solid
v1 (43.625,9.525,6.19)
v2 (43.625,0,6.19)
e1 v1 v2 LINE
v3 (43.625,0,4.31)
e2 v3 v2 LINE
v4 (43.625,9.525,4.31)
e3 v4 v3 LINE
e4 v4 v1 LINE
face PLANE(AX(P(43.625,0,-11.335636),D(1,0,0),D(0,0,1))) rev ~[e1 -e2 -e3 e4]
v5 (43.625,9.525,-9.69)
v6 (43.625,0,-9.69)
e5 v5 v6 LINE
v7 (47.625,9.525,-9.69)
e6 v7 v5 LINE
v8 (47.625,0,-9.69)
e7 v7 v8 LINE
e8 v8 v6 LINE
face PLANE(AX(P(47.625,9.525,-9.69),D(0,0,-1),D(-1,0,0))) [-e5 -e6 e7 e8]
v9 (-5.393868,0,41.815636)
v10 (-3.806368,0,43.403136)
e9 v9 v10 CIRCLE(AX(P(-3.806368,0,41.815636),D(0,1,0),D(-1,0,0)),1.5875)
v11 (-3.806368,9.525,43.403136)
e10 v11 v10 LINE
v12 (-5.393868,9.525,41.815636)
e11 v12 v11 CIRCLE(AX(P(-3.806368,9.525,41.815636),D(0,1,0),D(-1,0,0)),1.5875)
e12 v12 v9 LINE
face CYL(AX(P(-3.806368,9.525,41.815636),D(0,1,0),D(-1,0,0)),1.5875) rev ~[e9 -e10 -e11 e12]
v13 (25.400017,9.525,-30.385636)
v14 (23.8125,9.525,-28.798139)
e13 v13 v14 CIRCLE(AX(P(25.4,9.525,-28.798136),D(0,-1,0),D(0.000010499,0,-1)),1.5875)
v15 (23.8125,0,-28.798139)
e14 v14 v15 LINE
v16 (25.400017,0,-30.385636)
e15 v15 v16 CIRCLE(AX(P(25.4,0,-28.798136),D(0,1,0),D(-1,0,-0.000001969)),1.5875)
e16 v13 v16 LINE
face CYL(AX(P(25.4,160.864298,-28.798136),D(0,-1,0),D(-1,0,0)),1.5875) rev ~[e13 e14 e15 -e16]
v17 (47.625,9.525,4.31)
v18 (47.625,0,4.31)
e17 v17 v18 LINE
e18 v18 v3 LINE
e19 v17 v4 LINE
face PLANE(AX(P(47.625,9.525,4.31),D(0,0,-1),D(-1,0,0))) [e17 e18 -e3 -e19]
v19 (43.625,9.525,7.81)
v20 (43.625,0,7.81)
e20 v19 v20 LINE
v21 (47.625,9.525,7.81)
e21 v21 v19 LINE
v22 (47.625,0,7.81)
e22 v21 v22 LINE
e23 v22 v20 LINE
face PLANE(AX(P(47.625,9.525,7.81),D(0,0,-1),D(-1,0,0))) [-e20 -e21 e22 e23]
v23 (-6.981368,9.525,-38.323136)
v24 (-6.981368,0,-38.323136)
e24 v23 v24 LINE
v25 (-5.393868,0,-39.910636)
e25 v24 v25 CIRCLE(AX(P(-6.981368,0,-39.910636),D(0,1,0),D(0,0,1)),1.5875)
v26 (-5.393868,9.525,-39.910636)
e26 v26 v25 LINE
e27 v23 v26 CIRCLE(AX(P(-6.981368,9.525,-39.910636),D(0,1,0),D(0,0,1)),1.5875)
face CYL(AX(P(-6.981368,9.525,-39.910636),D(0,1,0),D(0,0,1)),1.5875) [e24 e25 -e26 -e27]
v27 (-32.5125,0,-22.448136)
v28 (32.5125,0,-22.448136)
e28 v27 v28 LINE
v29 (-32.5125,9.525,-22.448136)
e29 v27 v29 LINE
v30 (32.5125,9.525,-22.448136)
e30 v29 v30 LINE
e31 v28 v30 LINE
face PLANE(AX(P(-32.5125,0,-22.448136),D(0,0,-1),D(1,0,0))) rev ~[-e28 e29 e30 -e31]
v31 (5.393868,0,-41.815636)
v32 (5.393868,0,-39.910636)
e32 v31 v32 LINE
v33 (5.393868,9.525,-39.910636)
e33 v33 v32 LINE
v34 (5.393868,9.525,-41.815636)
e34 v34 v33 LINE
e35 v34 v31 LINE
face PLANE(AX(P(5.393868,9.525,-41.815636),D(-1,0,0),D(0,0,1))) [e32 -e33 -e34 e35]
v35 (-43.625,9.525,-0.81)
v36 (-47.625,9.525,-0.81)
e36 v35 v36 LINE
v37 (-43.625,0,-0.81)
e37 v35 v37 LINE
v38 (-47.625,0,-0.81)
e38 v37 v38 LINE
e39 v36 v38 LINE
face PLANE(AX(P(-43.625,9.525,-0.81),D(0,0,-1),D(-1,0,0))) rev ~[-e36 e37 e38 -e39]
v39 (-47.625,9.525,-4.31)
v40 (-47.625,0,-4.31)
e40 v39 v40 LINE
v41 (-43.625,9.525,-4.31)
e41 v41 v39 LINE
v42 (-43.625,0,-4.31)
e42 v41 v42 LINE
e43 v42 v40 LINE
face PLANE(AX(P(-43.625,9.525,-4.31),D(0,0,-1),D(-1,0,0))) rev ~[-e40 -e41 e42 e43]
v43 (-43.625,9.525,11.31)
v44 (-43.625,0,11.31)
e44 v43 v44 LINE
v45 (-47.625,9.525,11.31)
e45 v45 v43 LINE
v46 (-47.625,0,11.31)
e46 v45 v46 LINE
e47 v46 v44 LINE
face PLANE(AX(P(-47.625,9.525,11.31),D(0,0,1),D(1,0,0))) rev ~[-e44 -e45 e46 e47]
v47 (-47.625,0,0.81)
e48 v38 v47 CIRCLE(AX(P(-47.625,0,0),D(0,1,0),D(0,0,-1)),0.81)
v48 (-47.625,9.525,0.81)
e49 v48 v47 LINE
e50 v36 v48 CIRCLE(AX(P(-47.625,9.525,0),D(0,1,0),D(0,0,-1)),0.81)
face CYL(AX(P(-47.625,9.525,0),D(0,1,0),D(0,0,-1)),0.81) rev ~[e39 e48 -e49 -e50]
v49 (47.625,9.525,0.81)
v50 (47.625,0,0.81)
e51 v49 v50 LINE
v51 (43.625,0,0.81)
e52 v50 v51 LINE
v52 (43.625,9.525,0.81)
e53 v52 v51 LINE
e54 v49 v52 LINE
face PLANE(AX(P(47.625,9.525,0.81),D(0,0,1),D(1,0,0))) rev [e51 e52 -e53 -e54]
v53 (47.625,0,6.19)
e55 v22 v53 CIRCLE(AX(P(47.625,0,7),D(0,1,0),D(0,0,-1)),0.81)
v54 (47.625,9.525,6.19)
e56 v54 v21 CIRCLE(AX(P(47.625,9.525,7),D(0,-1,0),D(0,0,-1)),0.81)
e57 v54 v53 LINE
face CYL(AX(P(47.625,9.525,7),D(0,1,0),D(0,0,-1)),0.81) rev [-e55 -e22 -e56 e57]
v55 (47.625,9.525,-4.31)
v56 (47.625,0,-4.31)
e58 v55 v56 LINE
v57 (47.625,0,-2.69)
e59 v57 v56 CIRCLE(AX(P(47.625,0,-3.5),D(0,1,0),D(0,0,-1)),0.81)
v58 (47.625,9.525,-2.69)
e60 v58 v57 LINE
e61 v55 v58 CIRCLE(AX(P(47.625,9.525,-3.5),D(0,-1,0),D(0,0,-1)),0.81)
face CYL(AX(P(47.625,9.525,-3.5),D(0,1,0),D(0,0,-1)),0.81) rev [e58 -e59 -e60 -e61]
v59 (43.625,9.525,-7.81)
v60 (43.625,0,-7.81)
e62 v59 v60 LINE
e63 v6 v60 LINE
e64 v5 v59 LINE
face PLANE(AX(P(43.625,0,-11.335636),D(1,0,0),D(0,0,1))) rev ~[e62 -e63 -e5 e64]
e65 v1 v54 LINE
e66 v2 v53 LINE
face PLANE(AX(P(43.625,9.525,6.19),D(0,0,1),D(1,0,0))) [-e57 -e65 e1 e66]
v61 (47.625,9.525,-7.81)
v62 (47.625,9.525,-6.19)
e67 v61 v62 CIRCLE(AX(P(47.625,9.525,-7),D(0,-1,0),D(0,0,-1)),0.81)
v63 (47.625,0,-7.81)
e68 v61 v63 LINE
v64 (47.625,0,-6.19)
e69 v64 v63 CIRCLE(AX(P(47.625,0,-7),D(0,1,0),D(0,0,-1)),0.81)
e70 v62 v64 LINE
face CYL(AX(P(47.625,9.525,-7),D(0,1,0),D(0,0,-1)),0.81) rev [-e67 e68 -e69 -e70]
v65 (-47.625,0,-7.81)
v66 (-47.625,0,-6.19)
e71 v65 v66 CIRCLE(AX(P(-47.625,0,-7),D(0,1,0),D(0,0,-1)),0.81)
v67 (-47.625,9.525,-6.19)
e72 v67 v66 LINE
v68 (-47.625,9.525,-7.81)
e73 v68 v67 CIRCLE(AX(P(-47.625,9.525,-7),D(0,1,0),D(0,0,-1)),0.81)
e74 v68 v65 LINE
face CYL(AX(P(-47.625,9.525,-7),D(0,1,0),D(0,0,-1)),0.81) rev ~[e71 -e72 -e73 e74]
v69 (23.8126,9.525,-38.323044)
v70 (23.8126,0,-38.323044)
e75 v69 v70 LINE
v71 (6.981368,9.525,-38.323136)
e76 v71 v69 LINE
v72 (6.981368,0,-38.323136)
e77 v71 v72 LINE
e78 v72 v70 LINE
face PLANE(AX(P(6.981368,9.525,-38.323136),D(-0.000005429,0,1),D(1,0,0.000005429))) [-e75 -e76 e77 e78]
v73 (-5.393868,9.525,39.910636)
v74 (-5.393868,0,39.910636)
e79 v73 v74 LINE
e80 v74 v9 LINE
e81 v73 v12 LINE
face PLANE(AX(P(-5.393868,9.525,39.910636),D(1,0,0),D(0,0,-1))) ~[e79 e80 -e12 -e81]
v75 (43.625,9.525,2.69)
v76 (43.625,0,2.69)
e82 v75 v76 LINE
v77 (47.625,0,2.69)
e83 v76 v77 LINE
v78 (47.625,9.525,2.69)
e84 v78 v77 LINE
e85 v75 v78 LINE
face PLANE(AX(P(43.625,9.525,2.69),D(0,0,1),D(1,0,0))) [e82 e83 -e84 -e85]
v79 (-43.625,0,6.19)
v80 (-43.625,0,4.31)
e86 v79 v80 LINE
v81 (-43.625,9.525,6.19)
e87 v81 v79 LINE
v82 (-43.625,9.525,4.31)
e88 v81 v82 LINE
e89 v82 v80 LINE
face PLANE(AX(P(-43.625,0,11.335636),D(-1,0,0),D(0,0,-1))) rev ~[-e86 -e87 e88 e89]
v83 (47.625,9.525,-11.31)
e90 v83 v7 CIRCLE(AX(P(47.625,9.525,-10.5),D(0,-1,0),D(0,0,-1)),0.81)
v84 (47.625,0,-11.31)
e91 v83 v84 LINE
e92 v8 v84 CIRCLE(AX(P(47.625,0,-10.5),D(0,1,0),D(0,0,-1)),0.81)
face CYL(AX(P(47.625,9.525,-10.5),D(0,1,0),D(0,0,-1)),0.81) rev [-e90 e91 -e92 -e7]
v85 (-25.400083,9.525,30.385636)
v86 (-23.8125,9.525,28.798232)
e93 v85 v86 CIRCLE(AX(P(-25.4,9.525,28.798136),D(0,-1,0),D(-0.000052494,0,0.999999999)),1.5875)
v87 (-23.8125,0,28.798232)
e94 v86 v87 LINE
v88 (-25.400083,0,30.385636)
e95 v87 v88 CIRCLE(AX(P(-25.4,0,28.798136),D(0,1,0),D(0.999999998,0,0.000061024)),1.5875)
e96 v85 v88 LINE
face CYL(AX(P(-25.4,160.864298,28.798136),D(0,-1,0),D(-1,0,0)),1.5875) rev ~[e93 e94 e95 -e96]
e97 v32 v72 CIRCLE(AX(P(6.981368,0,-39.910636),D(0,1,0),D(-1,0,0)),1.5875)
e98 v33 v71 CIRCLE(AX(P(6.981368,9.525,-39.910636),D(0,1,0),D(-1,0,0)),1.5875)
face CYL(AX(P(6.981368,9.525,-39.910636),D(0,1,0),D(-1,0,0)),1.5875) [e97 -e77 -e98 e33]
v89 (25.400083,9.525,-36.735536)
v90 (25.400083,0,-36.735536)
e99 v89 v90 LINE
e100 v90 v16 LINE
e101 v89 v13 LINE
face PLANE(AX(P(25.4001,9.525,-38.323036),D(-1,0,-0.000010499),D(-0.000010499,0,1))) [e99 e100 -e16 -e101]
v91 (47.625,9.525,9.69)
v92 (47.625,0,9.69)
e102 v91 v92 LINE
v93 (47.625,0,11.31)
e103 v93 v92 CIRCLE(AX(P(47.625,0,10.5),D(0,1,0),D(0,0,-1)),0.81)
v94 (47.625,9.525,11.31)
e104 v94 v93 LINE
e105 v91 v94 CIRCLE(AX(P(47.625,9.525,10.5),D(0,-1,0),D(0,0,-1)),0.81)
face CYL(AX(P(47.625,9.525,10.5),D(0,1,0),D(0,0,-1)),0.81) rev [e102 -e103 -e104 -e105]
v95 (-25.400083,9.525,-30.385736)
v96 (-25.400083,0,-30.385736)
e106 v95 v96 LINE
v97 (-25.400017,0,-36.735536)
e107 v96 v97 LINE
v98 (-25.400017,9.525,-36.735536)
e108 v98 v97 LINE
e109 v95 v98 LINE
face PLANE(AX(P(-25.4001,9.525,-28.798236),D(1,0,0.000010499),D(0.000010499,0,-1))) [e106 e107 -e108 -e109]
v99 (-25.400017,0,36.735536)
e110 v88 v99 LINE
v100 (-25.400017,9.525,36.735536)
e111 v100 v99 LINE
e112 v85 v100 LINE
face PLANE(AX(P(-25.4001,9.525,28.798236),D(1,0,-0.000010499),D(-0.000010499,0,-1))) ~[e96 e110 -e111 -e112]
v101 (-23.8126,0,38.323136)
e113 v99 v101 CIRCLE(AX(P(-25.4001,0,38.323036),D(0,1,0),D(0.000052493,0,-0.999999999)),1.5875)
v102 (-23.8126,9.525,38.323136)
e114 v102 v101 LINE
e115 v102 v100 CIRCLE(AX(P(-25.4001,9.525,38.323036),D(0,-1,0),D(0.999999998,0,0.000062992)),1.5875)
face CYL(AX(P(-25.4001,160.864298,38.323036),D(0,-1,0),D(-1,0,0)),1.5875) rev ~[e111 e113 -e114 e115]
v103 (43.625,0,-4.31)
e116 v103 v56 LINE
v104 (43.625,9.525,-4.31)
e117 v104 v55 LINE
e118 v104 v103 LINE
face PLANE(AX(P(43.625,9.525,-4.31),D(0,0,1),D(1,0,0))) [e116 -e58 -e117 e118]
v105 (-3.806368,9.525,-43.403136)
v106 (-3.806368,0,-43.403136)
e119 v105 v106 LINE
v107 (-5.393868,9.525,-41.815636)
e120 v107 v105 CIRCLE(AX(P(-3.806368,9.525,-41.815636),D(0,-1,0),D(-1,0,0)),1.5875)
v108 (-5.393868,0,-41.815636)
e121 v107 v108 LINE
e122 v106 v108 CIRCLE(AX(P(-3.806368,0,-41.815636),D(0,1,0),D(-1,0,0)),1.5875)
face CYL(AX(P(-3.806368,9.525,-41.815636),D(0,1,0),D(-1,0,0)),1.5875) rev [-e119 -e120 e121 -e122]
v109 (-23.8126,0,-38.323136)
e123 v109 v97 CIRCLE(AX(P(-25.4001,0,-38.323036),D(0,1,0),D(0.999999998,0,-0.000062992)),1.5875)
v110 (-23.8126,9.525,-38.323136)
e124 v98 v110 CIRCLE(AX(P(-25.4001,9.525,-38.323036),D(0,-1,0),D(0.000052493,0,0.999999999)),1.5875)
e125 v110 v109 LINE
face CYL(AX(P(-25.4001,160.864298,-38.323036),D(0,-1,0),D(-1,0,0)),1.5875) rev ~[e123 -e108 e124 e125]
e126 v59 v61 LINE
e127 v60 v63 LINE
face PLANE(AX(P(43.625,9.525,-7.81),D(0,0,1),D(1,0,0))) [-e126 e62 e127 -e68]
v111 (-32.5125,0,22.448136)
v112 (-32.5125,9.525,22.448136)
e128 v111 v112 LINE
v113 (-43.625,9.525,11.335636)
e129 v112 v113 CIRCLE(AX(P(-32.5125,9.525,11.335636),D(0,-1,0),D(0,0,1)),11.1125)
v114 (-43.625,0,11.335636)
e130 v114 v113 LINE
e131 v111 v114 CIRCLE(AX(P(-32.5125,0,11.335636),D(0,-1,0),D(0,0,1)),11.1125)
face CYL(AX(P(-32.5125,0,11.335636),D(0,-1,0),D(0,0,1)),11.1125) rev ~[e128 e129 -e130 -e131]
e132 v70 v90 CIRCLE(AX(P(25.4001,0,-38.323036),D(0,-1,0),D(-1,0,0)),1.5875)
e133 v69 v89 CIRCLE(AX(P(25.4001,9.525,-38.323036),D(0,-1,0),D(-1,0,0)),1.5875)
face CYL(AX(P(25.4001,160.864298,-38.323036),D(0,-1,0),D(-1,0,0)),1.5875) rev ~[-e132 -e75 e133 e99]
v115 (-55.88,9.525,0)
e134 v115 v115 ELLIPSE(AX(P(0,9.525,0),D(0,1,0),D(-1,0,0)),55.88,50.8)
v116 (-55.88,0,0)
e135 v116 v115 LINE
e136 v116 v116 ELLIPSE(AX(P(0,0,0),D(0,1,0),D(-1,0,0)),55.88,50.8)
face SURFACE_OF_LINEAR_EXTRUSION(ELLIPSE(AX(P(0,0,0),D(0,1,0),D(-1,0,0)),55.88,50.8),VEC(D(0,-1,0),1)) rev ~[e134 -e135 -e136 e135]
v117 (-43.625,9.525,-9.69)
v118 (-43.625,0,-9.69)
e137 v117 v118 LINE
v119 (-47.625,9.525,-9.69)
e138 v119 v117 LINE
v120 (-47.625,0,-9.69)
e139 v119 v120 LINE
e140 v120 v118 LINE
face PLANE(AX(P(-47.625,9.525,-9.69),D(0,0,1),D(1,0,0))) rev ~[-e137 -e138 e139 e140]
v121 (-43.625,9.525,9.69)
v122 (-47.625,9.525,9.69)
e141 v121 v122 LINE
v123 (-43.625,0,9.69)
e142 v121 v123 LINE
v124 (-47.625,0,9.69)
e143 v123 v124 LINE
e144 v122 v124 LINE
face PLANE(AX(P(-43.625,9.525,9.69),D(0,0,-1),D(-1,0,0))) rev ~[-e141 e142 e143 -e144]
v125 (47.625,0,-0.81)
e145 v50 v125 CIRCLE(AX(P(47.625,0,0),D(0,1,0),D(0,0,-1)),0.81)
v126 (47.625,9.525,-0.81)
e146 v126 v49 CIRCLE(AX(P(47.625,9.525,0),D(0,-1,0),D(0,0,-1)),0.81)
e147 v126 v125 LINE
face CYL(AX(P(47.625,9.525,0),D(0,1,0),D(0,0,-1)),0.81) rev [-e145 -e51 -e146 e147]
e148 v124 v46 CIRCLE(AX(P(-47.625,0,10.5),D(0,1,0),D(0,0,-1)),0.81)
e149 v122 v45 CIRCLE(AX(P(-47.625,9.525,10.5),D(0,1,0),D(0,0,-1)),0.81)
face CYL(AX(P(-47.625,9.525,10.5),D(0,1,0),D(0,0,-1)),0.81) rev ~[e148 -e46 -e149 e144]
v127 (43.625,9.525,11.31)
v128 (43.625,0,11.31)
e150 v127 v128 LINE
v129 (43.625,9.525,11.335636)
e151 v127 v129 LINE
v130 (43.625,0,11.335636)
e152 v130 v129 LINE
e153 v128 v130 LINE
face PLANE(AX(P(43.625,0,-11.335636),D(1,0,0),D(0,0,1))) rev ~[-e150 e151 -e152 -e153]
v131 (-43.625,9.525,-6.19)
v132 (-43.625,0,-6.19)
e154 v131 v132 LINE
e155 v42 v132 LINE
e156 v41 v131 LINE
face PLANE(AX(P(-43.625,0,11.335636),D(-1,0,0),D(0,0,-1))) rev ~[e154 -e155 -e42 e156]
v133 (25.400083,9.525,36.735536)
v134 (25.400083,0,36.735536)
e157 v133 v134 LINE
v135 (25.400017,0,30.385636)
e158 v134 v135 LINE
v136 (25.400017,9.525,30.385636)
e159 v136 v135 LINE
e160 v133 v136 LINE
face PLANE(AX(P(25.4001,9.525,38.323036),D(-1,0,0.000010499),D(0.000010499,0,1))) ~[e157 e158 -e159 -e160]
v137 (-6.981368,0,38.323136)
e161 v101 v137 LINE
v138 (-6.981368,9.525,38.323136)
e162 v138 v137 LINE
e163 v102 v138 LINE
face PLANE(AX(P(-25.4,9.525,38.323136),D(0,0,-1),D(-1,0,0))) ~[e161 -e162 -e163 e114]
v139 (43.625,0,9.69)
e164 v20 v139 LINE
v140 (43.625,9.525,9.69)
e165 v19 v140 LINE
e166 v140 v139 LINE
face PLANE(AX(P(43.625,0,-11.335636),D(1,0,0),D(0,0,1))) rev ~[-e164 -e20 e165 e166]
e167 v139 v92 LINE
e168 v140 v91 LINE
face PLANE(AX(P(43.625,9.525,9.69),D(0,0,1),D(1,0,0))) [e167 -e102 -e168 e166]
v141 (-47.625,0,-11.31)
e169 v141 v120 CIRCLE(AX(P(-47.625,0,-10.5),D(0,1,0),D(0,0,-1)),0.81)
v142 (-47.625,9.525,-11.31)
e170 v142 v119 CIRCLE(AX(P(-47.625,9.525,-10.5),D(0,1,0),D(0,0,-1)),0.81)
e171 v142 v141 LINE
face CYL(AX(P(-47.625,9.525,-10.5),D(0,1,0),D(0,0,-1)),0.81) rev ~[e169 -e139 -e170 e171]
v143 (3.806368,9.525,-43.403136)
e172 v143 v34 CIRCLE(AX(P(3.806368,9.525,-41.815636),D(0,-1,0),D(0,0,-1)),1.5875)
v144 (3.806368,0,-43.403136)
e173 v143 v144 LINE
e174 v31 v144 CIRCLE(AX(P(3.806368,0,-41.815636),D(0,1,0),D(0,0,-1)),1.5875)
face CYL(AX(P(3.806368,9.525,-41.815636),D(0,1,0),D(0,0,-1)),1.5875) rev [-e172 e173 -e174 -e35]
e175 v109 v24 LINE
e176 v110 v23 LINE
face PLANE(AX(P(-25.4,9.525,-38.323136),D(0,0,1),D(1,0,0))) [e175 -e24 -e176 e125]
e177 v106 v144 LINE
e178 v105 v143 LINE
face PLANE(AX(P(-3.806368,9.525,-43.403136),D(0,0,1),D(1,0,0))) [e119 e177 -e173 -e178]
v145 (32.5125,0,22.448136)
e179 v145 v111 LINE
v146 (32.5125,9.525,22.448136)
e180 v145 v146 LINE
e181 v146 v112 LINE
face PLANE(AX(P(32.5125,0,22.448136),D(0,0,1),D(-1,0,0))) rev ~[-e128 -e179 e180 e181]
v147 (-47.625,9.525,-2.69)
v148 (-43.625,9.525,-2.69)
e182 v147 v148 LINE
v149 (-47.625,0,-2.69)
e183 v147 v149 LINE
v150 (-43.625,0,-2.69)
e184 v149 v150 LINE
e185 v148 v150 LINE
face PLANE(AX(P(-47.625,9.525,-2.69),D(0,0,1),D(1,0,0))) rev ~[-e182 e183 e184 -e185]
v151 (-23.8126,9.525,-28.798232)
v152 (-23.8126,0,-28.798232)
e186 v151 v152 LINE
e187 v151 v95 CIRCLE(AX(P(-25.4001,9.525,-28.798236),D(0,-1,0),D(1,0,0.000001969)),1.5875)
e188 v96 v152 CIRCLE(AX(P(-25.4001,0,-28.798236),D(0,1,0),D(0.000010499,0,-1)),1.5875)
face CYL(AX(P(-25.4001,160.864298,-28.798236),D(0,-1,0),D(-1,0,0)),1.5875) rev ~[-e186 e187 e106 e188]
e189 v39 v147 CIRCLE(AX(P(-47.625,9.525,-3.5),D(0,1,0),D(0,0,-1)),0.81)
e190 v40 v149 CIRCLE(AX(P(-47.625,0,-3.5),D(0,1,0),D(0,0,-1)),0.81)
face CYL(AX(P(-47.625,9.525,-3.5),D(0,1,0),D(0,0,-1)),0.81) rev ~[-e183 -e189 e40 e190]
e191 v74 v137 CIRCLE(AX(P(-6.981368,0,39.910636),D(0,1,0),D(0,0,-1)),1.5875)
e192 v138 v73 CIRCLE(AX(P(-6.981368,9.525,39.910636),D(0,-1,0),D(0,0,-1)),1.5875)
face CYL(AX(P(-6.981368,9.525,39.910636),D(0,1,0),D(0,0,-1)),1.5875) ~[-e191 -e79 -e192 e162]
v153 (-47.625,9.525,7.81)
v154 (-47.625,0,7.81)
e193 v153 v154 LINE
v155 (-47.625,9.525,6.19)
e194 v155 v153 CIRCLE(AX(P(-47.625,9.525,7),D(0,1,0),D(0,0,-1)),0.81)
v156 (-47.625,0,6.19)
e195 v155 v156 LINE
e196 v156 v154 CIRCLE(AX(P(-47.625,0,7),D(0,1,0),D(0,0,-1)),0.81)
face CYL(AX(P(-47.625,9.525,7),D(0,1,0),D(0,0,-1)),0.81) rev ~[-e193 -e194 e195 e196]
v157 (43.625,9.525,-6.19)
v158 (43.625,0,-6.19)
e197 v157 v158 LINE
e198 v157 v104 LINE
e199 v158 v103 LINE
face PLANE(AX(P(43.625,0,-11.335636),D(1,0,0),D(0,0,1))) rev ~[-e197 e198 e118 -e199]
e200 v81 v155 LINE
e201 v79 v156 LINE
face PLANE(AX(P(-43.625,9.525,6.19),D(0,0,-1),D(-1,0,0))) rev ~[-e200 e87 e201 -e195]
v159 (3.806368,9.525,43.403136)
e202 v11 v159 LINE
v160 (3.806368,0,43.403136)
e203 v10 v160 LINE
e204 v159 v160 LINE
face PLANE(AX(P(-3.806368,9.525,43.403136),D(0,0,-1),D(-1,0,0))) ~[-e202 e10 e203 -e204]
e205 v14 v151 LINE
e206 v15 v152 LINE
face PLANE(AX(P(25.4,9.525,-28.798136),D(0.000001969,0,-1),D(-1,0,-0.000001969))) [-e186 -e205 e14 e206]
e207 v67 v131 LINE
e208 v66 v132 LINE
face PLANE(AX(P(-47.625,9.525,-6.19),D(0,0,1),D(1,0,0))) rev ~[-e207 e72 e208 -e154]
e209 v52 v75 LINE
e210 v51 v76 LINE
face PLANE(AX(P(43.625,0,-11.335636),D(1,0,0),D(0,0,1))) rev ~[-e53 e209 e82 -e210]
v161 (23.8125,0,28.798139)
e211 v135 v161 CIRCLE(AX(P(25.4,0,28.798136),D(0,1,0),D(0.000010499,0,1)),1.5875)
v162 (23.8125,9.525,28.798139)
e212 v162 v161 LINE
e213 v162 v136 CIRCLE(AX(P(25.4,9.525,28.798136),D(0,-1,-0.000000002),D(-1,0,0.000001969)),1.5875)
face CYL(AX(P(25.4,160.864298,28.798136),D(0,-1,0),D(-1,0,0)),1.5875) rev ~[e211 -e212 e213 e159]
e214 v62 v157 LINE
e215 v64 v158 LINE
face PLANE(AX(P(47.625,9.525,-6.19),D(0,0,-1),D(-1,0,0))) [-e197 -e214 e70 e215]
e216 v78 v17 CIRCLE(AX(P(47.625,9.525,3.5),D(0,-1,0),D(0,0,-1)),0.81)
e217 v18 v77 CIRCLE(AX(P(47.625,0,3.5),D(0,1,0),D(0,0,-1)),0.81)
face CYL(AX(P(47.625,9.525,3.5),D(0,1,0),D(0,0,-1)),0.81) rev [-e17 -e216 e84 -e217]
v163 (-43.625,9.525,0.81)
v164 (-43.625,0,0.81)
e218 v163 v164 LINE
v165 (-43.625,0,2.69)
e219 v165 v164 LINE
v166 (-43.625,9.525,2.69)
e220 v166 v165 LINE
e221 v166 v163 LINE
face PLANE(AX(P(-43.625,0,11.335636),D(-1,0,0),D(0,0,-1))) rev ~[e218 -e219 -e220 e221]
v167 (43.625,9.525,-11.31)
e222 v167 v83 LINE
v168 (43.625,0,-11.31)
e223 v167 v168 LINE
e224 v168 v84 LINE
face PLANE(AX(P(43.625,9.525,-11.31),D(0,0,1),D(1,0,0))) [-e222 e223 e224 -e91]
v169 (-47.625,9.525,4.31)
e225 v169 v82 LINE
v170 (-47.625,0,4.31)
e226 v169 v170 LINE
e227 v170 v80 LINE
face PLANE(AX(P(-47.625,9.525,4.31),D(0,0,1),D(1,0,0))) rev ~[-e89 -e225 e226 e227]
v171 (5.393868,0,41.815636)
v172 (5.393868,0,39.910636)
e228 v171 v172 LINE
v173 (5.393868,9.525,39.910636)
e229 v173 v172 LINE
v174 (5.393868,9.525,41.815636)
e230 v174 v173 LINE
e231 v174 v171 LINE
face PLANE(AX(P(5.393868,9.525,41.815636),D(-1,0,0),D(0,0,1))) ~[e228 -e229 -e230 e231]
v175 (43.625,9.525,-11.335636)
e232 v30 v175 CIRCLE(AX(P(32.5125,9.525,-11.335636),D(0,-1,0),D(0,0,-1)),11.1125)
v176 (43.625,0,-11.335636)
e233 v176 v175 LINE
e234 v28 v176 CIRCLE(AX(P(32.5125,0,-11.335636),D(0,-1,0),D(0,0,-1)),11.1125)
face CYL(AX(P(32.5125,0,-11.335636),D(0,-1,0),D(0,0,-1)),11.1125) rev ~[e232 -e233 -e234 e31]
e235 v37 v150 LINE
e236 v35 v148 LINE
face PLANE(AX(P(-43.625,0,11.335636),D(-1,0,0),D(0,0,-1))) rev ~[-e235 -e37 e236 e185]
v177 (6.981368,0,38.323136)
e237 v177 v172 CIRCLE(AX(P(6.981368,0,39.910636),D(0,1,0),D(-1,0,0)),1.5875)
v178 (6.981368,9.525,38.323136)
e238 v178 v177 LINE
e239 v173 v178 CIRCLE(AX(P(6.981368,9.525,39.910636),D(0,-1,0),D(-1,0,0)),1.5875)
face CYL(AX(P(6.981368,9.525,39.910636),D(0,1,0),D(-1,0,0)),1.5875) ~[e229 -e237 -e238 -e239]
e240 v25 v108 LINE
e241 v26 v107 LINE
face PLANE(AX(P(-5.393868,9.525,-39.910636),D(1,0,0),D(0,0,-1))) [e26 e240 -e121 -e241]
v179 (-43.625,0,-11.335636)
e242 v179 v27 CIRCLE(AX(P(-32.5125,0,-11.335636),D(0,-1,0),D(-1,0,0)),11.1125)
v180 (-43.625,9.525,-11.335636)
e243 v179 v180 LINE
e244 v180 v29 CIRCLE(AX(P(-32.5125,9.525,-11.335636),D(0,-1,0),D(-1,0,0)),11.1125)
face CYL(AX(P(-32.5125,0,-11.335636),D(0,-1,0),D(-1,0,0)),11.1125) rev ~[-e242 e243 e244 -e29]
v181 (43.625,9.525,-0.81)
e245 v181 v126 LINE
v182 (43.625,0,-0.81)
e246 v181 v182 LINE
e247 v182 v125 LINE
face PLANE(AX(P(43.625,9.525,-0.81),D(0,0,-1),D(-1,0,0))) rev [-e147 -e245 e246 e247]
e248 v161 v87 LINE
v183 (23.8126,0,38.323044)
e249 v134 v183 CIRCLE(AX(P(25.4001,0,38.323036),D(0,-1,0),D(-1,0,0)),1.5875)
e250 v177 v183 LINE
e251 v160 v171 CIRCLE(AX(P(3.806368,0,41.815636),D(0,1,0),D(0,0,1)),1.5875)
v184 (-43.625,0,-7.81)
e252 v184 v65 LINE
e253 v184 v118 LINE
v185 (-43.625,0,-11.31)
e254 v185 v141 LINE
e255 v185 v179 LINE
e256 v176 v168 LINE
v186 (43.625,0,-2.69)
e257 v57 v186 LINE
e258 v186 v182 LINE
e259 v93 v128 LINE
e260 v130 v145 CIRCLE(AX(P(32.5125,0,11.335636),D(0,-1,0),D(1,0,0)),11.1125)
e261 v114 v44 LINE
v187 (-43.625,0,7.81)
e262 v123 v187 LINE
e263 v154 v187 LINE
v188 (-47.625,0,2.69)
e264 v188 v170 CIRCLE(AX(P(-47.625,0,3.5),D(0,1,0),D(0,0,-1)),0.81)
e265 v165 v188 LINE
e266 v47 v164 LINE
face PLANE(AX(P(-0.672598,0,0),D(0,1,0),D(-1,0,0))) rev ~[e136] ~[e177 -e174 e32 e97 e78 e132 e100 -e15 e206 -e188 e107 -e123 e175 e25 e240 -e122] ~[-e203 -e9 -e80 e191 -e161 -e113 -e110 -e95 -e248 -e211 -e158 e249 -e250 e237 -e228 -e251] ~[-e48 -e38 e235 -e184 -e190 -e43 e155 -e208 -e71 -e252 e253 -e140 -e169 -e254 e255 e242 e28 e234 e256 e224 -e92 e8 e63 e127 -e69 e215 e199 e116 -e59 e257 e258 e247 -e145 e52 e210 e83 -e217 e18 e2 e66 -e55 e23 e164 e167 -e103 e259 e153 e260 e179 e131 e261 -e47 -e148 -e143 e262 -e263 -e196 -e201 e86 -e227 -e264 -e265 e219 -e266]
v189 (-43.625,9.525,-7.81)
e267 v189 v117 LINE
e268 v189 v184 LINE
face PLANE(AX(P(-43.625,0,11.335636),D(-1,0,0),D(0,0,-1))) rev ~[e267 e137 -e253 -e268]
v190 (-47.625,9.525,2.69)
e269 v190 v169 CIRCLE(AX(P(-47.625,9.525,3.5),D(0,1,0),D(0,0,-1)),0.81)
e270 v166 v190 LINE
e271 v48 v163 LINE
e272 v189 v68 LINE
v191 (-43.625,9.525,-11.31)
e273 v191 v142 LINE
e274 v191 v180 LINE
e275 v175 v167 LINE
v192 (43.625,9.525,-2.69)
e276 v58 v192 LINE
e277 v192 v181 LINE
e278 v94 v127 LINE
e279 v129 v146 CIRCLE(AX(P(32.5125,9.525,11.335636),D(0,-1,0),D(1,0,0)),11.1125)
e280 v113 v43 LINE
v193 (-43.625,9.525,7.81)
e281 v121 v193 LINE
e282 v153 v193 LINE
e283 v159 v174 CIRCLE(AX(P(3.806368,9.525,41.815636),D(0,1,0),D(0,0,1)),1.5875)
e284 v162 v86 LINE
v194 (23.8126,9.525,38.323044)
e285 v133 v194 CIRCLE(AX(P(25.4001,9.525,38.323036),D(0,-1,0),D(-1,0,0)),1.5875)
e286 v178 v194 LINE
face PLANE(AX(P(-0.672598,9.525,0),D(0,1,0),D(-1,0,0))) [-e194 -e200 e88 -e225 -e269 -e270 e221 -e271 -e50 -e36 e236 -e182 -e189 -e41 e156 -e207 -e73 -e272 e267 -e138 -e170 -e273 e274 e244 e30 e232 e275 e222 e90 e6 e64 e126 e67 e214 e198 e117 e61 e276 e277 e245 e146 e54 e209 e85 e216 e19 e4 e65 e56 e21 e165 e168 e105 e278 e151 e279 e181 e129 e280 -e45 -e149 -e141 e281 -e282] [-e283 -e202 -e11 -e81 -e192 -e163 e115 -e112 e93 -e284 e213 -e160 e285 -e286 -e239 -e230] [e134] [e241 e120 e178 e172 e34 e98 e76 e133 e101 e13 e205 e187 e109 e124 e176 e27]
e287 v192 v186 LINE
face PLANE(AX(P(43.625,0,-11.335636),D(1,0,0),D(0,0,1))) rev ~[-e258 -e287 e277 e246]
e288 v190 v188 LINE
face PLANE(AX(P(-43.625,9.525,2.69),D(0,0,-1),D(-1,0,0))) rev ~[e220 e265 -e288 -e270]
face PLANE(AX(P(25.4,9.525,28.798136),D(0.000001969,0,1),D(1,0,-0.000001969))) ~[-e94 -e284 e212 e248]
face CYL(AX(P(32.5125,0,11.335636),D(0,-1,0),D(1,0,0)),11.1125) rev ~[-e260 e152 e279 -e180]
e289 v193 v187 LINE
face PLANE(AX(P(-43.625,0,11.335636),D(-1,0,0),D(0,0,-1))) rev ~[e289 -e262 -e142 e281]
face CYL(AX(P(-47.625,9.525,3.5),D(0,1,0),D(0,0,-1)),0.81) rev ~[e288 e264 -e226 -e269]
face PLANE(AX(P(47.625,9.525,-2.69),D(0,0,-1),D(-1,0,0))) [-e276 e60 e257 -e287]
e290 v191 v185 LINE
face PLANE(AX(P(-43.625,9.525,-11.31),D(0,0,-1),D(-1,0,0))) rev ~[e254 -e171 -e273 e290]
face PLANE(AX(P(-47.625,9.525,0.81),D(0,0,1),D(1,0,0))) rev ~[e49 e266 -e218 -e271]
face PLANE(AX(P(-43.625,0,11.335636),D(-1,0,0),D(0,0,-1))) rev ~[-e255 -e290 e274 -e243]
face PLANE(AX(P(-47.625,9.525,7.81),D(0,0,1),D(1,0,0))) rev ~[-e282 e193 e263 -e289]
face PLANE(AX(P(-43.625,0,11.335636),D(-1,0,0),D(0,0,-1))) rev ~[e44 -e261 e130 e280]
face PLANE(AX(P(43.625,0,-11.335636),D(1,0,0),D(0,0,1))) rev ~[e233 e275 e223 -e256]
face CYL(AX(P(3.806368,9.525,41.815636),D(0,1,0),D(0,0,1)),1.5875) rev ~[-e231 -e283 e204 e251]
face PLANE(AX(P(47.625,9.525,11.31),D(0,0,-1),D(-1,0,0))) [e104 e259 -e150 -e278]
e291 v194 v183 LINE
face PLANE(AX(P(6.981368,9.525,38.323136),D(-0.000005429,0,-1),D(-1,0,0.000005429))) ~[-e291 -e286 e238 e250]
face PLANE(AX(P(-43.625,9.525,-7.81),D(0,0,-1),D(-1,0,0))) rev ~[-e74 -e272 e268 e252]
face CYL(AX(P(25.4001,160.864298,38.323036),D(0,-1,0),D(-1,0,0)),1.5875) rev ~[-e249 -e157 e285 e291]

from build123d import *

# Parameters (mm, degrees)
SKETCH11_RX                  = 55.88
SKETCH11_RY                  = 50.8
BOSS_EXTRUDE4_DEPTH          = 9.525
SKETCH14_R                   = 0.0001
CUT_EXTRUDE5_DEPTH           = 77.117934976
CUT_EXTRUDE4_DEPTH           = 77.117934976
LPATTERN1_COUNT              = 4
LPATTERN1_PITCH              = 3.5
LPATTERN1_COL_COUNT          = 4
LPATTERN1_COL_PITCH          = 3.5
MIRROR1_COPY_1_DEPTH         = 77.117934976
MIRROR1_COPY_2_DEPTH         = 77.117934976
MIRROR1_COPY_3_DEPTH         = 77.117934976
MIRROR1_COPY_4_DEPTH         = 77.117934976
MIRROR1_COPY_5_DEPTH         = 77.117934976
MIRROR1_COPY_6_DEPTH         = 77.117934976
MIRROR1_COPY_7_DEPTH         = 77.117934976
F_1_8_0_125_DIAMETER_HOLE1_D = 3.175


with BuildPart() as part:
    # Sketch11 → Boss-Extrude4 (new body)
    with BuildSketch(Plane(origin=(0, 0, 0), x_dir=(1, 0, 0), z_dir=(0, 1, 0))):
        with Locations(Location((0, 0), (0, 0, 180))):
            Ellipse(SKETCH11_RX, SKETCH11_RY)
        with BuildLine():
            Line((-32.5125, 22.448135593), (32.5125, 22.448135593))
            ThreePointArc((32.5125, 22.448135593), (40.370224106, 19.193359699), (43.625, 11.335635593))
            Line((43.625, 11.335635593), (43.625, -11.335635593))
            ThreePointArc((43.625, -11.335635593), (40.370224106, -19.193359699), (32.5125, -22.448135593))
            Line((32.5125, -22.448135593), (-32.5125, -22.448135593))
            ThreePointArc((-32.5125, -22.448135593), (-40.370224106, -19.193359699), (-43.625, -11.335635593))
            Line((-43.625, -11.335635593), (-43.625, 11.335635593))
            ThreePointArc((-43.625, 11.335635593), (-40.370224106, 19.193359699), (-32.5125, 22.448135593))
        make_face(mode=Mode.SUBTRACT)
    extrude(amount=BOSS_EXTRUDE4_DEPTH)

    # Sketch14 → Cut-Extrude5 (cut, through all)
    with BuildSketch(Plane(origin=(0, 9.525, 0), x_dir=(1, 0, 0), z_dir=(0, 1, 0))):
        with Locations((-25.4, 28.798235593)):
            Circle(SKETCH14_R)
        with Locations((25.4, 28.798235593)):
            Circle(SKETCH14_R)
        with Locations((25.4, 38.323035593)):
            Circle(SKETCH14_R)
        with Locations((-25.4, 38.323035593)):
            Circle(SKETCH14_R)
        with BuildLine():
            Line((-25.4, 38.323135593), (-6.981368472, 38.323135593))
            ThreePointArc((-6.981368472, 38.323135593), (-5.858836457, 38.788103578), (-5.393868472, 39.910635593))
            Line((-5.393868472, 39.910635593), (-5.393868472, 41.815635593))
            ThreePointArc((-5.393868472, 41.815635593), (-4.928900487, 42.938167608), (-3.806368472, 43.403135593))
            Line((-3.806368472, 43.403135593), (3.806368472, 43.403135593))
            ThreePointArc((3.806368472, 43.403135593), (4.928900487, 42.938167608), (5.393868472, 41.815635593))
            Line((5.393868472, 41.815635593), (5.393868472, 39.910635593))
            ThreePointArc((5.393868472, 39.910635593), (5.858836457, 38.788103578), (6.981368472, 38.323135593))
            Line((6.981368472, 38.323135593), (25.4001, 38.323035593))
            Line((25.4001, 38.323035593), (25.4, 28.798135593))
            Line((25.4, 28.798135593), (-25.4001, 28.798235593))
            Line((-25.4001, 28.798235593), (-25.4, 38.323135593))
        make_face()
    cut_extrude5 = extrude(amount=-CUT_EXTRUDE5_DEPTH, mode=Mode.SUBTRACT)

    # Sketch12 → Cut-Extrude4 (cut, through all)
    with BuildSketch(Plane(origin=(0, 9.525, 0), x_dir=(1, 0, 0), z_dir=(0, 1, 0))):
        with BuildLine():
            Line((-43.625, 0.81), (-47.625, 0.81))
            ThreePointArc((-47.625, 0.81), (-48.435, 0), (-47.625, -0.81))
            Line((-47.625, -0.81), (-43.625, -0.81))
            Line((-43.625, -0.81), (-43.625, 0.81))
        make_face()
    cut_extrude4 = extrude(amount=-CUT_EXTRUDE4_DEPTH, mode=Mode.SUBTRACT)

    # LPattern1: Cut-Extrude4 ×4
    with Locations(*[(0, 0, -i * LPATTERN1_PITCH) for i in range(1, LPATTERN1_COUNT)]):
        add(cut_extrude4, mode=Mode.SUBTRACT)

    # LPattern1 col: Cut-Extrude4 ×4
    with Locations(*[(0, 0, i * LPATTERN1_COL_PITCH) for i in range(1, LPATTERN1_COL_COUNT)]):
        add(cut_extrude4, mode=Mode.SUBTRACT)

    # Mirror1 copy 1 sketch → Mirror1 copy 1 (cut, through all)
    with BuildSketch(Plane(origin=(0, 9.525, -3.5), x_dir=(-1, 0, 0), z_dir=(0, 1, 0))):
        with BuildLine():
            Line((-43.625, -0.81), (-47.625, -0.81))
            ThreePointArc((-47.625, -0.81), (-48.435, 0), (-47.625, 0.81))
            Line((-47.625, 0.81), (-43.625, 0.81))
            Line((-43.625, 0.81), (-43.625, -0.81))
        make_face()
    extrude(amount=-MIRROR1_COPY_1_DEPTH, mode=Mode.SUBTRACT)

    # Mirror1 copy 2 sketch → Mirror1 copy 2 (cut, through all)
    with BuildSketch(Plane(origin=(0, 9.525, -7), x_dir=(-1, 0, 0), z_dir=(0, 1, 0))):
        with BuildLine():
            Line((-43.625, -0.81), (-47.625, -0.81))
            ThreePointArc((-47.625, -0.81), (-48.435, 0), (-47.625, 0.81))
            Line((-47.625, 0.81), (-43.625, 0.81))
            Line((-43.625, 0.81), (-43.625, -0.81))
        make_face()
    extrude(amount=-MIRROR1_COPY_2_DEPTH, mode=Mode.SUBTRACT)

    # Mirror1 copy 3 sketch → Mirror1 copy 3 (cut, through all)
    with BuildSketch(Plane(origin=(0, 9.525, -10.5), x_dir=(-1, 0, 0), z_dir=(0, 1, 0))):
        with BuildLine():
            Line((-43.625, -0.81), (-47.625, -0.81))
            ThreePointArc((-47.625, -0.81), (-48.435, 0), (-47.625, 0.81))
            Line((-47.625, 0.81), (-43.625, 0.81))
            Line((-43.625, 0.81), (-43.625, -0.81))
        make_face()
    extrude(amount=-MIRROR1_COPY_3_DEPTH, mode=Mode.SUBTRACT)

    # Mirror1 copy 4 sketch → Mirror1 copy 4 (cut, through all)
    with BuildSketch(Plane(origin=(0, 9.525, 3.5), x_dir=(-1, 0, 0), z_dir=(0, 1, 0))):
        with BuildLine():
            Line((-43.625, -0.81), (-47.625, -0.81))
            ThreePointArc((-47.625, -0.81), (-48.435, 0), (-47.625, 0.81))
            Line((-47.625, 0.81), (-43.625, 0.81))
            Line((-43.625, 0.81), (-43.625, -0.81))
        make_face()
    extrude(amount=-MIRROR1_COPY_4_DEPTH, mode=Mode.SUBTRACT)

    # Mirror1 copy 5 sketch → Mirror1 copy 5 (cut, through all)
    with BuildSketch(Plane(origin=(0, 9.525, 7), x_dir=(-1, 0, 0), z_dir=(0, 1, 0))):
        with BuildLine():
            Line((-43.625, -0.81), (-47.625, -0.81))
            ThreePointArc((-47.625, -0.81), (-48.435, 0), (-47.625, 0.81))
            Line((-47.625, 0.81), (-43.625, 0.81))
            Line((-43.625, 0.81), (-43.625, -0.81))
        make_face()
    extrude(amount=-MIRROR1_COPY_5_DEPTH, mode=Mode.SUBTRACT)

    # Mirror1 copy 6 sketch → Mirror1 copy 6 (cut, through all)
    with BuildSketch(Plane(origin=(0, 9.525, 10.5), x_dir=(-1, 0, 0), z_dir=(0, 1, 0))):
        with BuildLine():
            Line((-43.625, -0.81), (-47.625, -0.81))
            ThreePointArc((-47.625, -0.81), (-48.435, 0), (-47.625, 0.81))
            Line((-47.625, 0.81), (-43.625, 0.81))
            Line((-43.625, 0.81), (-43.625, -0.81))
        make_face()
    extrude(amount=-MIRROR1_COPY_6_DEPTH, mode=Mode.SUBTRACT)

    # Mirror1 copy 7 sketch → Mirror1 copy 7 (cut, through all)
    with BuildSketch(Plane(origin=(0, 9.525, 0), x_dir=(-1, 0, 0), z_dir=(0, 1, 0))):
        with BuildLine():
            Line((-43.625, -0.81), (-47.625, -0.81))
            ThreePointArc((-47.625, -0.81), (-48.435, 0), (-47.625, 0.81))
            Line((-47.625, 0.81), (-43.625, 0.81))
            Line((-43.625, 0.81), (-43.625, -0.81))
        make_face()
    extrude(amount=-MIRROR1_COPY_7_DEPTH, mode=Mode.SUBTRACT)

    # Mirror2: Cut-Extrude5 across plane
    add(cut_extrude5.mirror(Plane.XY), mode=Mode.SUBTRACT)

    # 1/8 (0.125) Diameter Hole1 (through all)
    with Locations(Plane(origin=(0, 9.525, 0), x_dir=(1, 0, 0), z_dir=(0, 1, 0))):
        with Locations((-25.4001, 28.798235593), (-25.4001, 38.323035593), (25.4001, 38.323035593), (25.4, 28.798135593), (-25.4, -28.798135593), (-25.4001, -38.323035593), (25.4, -28.798135593), (25.4001, -38.323035593)):
            Hole(F_1_8_0_125_DIAMETER_HOLE1_D / 2)


solid = part.part
